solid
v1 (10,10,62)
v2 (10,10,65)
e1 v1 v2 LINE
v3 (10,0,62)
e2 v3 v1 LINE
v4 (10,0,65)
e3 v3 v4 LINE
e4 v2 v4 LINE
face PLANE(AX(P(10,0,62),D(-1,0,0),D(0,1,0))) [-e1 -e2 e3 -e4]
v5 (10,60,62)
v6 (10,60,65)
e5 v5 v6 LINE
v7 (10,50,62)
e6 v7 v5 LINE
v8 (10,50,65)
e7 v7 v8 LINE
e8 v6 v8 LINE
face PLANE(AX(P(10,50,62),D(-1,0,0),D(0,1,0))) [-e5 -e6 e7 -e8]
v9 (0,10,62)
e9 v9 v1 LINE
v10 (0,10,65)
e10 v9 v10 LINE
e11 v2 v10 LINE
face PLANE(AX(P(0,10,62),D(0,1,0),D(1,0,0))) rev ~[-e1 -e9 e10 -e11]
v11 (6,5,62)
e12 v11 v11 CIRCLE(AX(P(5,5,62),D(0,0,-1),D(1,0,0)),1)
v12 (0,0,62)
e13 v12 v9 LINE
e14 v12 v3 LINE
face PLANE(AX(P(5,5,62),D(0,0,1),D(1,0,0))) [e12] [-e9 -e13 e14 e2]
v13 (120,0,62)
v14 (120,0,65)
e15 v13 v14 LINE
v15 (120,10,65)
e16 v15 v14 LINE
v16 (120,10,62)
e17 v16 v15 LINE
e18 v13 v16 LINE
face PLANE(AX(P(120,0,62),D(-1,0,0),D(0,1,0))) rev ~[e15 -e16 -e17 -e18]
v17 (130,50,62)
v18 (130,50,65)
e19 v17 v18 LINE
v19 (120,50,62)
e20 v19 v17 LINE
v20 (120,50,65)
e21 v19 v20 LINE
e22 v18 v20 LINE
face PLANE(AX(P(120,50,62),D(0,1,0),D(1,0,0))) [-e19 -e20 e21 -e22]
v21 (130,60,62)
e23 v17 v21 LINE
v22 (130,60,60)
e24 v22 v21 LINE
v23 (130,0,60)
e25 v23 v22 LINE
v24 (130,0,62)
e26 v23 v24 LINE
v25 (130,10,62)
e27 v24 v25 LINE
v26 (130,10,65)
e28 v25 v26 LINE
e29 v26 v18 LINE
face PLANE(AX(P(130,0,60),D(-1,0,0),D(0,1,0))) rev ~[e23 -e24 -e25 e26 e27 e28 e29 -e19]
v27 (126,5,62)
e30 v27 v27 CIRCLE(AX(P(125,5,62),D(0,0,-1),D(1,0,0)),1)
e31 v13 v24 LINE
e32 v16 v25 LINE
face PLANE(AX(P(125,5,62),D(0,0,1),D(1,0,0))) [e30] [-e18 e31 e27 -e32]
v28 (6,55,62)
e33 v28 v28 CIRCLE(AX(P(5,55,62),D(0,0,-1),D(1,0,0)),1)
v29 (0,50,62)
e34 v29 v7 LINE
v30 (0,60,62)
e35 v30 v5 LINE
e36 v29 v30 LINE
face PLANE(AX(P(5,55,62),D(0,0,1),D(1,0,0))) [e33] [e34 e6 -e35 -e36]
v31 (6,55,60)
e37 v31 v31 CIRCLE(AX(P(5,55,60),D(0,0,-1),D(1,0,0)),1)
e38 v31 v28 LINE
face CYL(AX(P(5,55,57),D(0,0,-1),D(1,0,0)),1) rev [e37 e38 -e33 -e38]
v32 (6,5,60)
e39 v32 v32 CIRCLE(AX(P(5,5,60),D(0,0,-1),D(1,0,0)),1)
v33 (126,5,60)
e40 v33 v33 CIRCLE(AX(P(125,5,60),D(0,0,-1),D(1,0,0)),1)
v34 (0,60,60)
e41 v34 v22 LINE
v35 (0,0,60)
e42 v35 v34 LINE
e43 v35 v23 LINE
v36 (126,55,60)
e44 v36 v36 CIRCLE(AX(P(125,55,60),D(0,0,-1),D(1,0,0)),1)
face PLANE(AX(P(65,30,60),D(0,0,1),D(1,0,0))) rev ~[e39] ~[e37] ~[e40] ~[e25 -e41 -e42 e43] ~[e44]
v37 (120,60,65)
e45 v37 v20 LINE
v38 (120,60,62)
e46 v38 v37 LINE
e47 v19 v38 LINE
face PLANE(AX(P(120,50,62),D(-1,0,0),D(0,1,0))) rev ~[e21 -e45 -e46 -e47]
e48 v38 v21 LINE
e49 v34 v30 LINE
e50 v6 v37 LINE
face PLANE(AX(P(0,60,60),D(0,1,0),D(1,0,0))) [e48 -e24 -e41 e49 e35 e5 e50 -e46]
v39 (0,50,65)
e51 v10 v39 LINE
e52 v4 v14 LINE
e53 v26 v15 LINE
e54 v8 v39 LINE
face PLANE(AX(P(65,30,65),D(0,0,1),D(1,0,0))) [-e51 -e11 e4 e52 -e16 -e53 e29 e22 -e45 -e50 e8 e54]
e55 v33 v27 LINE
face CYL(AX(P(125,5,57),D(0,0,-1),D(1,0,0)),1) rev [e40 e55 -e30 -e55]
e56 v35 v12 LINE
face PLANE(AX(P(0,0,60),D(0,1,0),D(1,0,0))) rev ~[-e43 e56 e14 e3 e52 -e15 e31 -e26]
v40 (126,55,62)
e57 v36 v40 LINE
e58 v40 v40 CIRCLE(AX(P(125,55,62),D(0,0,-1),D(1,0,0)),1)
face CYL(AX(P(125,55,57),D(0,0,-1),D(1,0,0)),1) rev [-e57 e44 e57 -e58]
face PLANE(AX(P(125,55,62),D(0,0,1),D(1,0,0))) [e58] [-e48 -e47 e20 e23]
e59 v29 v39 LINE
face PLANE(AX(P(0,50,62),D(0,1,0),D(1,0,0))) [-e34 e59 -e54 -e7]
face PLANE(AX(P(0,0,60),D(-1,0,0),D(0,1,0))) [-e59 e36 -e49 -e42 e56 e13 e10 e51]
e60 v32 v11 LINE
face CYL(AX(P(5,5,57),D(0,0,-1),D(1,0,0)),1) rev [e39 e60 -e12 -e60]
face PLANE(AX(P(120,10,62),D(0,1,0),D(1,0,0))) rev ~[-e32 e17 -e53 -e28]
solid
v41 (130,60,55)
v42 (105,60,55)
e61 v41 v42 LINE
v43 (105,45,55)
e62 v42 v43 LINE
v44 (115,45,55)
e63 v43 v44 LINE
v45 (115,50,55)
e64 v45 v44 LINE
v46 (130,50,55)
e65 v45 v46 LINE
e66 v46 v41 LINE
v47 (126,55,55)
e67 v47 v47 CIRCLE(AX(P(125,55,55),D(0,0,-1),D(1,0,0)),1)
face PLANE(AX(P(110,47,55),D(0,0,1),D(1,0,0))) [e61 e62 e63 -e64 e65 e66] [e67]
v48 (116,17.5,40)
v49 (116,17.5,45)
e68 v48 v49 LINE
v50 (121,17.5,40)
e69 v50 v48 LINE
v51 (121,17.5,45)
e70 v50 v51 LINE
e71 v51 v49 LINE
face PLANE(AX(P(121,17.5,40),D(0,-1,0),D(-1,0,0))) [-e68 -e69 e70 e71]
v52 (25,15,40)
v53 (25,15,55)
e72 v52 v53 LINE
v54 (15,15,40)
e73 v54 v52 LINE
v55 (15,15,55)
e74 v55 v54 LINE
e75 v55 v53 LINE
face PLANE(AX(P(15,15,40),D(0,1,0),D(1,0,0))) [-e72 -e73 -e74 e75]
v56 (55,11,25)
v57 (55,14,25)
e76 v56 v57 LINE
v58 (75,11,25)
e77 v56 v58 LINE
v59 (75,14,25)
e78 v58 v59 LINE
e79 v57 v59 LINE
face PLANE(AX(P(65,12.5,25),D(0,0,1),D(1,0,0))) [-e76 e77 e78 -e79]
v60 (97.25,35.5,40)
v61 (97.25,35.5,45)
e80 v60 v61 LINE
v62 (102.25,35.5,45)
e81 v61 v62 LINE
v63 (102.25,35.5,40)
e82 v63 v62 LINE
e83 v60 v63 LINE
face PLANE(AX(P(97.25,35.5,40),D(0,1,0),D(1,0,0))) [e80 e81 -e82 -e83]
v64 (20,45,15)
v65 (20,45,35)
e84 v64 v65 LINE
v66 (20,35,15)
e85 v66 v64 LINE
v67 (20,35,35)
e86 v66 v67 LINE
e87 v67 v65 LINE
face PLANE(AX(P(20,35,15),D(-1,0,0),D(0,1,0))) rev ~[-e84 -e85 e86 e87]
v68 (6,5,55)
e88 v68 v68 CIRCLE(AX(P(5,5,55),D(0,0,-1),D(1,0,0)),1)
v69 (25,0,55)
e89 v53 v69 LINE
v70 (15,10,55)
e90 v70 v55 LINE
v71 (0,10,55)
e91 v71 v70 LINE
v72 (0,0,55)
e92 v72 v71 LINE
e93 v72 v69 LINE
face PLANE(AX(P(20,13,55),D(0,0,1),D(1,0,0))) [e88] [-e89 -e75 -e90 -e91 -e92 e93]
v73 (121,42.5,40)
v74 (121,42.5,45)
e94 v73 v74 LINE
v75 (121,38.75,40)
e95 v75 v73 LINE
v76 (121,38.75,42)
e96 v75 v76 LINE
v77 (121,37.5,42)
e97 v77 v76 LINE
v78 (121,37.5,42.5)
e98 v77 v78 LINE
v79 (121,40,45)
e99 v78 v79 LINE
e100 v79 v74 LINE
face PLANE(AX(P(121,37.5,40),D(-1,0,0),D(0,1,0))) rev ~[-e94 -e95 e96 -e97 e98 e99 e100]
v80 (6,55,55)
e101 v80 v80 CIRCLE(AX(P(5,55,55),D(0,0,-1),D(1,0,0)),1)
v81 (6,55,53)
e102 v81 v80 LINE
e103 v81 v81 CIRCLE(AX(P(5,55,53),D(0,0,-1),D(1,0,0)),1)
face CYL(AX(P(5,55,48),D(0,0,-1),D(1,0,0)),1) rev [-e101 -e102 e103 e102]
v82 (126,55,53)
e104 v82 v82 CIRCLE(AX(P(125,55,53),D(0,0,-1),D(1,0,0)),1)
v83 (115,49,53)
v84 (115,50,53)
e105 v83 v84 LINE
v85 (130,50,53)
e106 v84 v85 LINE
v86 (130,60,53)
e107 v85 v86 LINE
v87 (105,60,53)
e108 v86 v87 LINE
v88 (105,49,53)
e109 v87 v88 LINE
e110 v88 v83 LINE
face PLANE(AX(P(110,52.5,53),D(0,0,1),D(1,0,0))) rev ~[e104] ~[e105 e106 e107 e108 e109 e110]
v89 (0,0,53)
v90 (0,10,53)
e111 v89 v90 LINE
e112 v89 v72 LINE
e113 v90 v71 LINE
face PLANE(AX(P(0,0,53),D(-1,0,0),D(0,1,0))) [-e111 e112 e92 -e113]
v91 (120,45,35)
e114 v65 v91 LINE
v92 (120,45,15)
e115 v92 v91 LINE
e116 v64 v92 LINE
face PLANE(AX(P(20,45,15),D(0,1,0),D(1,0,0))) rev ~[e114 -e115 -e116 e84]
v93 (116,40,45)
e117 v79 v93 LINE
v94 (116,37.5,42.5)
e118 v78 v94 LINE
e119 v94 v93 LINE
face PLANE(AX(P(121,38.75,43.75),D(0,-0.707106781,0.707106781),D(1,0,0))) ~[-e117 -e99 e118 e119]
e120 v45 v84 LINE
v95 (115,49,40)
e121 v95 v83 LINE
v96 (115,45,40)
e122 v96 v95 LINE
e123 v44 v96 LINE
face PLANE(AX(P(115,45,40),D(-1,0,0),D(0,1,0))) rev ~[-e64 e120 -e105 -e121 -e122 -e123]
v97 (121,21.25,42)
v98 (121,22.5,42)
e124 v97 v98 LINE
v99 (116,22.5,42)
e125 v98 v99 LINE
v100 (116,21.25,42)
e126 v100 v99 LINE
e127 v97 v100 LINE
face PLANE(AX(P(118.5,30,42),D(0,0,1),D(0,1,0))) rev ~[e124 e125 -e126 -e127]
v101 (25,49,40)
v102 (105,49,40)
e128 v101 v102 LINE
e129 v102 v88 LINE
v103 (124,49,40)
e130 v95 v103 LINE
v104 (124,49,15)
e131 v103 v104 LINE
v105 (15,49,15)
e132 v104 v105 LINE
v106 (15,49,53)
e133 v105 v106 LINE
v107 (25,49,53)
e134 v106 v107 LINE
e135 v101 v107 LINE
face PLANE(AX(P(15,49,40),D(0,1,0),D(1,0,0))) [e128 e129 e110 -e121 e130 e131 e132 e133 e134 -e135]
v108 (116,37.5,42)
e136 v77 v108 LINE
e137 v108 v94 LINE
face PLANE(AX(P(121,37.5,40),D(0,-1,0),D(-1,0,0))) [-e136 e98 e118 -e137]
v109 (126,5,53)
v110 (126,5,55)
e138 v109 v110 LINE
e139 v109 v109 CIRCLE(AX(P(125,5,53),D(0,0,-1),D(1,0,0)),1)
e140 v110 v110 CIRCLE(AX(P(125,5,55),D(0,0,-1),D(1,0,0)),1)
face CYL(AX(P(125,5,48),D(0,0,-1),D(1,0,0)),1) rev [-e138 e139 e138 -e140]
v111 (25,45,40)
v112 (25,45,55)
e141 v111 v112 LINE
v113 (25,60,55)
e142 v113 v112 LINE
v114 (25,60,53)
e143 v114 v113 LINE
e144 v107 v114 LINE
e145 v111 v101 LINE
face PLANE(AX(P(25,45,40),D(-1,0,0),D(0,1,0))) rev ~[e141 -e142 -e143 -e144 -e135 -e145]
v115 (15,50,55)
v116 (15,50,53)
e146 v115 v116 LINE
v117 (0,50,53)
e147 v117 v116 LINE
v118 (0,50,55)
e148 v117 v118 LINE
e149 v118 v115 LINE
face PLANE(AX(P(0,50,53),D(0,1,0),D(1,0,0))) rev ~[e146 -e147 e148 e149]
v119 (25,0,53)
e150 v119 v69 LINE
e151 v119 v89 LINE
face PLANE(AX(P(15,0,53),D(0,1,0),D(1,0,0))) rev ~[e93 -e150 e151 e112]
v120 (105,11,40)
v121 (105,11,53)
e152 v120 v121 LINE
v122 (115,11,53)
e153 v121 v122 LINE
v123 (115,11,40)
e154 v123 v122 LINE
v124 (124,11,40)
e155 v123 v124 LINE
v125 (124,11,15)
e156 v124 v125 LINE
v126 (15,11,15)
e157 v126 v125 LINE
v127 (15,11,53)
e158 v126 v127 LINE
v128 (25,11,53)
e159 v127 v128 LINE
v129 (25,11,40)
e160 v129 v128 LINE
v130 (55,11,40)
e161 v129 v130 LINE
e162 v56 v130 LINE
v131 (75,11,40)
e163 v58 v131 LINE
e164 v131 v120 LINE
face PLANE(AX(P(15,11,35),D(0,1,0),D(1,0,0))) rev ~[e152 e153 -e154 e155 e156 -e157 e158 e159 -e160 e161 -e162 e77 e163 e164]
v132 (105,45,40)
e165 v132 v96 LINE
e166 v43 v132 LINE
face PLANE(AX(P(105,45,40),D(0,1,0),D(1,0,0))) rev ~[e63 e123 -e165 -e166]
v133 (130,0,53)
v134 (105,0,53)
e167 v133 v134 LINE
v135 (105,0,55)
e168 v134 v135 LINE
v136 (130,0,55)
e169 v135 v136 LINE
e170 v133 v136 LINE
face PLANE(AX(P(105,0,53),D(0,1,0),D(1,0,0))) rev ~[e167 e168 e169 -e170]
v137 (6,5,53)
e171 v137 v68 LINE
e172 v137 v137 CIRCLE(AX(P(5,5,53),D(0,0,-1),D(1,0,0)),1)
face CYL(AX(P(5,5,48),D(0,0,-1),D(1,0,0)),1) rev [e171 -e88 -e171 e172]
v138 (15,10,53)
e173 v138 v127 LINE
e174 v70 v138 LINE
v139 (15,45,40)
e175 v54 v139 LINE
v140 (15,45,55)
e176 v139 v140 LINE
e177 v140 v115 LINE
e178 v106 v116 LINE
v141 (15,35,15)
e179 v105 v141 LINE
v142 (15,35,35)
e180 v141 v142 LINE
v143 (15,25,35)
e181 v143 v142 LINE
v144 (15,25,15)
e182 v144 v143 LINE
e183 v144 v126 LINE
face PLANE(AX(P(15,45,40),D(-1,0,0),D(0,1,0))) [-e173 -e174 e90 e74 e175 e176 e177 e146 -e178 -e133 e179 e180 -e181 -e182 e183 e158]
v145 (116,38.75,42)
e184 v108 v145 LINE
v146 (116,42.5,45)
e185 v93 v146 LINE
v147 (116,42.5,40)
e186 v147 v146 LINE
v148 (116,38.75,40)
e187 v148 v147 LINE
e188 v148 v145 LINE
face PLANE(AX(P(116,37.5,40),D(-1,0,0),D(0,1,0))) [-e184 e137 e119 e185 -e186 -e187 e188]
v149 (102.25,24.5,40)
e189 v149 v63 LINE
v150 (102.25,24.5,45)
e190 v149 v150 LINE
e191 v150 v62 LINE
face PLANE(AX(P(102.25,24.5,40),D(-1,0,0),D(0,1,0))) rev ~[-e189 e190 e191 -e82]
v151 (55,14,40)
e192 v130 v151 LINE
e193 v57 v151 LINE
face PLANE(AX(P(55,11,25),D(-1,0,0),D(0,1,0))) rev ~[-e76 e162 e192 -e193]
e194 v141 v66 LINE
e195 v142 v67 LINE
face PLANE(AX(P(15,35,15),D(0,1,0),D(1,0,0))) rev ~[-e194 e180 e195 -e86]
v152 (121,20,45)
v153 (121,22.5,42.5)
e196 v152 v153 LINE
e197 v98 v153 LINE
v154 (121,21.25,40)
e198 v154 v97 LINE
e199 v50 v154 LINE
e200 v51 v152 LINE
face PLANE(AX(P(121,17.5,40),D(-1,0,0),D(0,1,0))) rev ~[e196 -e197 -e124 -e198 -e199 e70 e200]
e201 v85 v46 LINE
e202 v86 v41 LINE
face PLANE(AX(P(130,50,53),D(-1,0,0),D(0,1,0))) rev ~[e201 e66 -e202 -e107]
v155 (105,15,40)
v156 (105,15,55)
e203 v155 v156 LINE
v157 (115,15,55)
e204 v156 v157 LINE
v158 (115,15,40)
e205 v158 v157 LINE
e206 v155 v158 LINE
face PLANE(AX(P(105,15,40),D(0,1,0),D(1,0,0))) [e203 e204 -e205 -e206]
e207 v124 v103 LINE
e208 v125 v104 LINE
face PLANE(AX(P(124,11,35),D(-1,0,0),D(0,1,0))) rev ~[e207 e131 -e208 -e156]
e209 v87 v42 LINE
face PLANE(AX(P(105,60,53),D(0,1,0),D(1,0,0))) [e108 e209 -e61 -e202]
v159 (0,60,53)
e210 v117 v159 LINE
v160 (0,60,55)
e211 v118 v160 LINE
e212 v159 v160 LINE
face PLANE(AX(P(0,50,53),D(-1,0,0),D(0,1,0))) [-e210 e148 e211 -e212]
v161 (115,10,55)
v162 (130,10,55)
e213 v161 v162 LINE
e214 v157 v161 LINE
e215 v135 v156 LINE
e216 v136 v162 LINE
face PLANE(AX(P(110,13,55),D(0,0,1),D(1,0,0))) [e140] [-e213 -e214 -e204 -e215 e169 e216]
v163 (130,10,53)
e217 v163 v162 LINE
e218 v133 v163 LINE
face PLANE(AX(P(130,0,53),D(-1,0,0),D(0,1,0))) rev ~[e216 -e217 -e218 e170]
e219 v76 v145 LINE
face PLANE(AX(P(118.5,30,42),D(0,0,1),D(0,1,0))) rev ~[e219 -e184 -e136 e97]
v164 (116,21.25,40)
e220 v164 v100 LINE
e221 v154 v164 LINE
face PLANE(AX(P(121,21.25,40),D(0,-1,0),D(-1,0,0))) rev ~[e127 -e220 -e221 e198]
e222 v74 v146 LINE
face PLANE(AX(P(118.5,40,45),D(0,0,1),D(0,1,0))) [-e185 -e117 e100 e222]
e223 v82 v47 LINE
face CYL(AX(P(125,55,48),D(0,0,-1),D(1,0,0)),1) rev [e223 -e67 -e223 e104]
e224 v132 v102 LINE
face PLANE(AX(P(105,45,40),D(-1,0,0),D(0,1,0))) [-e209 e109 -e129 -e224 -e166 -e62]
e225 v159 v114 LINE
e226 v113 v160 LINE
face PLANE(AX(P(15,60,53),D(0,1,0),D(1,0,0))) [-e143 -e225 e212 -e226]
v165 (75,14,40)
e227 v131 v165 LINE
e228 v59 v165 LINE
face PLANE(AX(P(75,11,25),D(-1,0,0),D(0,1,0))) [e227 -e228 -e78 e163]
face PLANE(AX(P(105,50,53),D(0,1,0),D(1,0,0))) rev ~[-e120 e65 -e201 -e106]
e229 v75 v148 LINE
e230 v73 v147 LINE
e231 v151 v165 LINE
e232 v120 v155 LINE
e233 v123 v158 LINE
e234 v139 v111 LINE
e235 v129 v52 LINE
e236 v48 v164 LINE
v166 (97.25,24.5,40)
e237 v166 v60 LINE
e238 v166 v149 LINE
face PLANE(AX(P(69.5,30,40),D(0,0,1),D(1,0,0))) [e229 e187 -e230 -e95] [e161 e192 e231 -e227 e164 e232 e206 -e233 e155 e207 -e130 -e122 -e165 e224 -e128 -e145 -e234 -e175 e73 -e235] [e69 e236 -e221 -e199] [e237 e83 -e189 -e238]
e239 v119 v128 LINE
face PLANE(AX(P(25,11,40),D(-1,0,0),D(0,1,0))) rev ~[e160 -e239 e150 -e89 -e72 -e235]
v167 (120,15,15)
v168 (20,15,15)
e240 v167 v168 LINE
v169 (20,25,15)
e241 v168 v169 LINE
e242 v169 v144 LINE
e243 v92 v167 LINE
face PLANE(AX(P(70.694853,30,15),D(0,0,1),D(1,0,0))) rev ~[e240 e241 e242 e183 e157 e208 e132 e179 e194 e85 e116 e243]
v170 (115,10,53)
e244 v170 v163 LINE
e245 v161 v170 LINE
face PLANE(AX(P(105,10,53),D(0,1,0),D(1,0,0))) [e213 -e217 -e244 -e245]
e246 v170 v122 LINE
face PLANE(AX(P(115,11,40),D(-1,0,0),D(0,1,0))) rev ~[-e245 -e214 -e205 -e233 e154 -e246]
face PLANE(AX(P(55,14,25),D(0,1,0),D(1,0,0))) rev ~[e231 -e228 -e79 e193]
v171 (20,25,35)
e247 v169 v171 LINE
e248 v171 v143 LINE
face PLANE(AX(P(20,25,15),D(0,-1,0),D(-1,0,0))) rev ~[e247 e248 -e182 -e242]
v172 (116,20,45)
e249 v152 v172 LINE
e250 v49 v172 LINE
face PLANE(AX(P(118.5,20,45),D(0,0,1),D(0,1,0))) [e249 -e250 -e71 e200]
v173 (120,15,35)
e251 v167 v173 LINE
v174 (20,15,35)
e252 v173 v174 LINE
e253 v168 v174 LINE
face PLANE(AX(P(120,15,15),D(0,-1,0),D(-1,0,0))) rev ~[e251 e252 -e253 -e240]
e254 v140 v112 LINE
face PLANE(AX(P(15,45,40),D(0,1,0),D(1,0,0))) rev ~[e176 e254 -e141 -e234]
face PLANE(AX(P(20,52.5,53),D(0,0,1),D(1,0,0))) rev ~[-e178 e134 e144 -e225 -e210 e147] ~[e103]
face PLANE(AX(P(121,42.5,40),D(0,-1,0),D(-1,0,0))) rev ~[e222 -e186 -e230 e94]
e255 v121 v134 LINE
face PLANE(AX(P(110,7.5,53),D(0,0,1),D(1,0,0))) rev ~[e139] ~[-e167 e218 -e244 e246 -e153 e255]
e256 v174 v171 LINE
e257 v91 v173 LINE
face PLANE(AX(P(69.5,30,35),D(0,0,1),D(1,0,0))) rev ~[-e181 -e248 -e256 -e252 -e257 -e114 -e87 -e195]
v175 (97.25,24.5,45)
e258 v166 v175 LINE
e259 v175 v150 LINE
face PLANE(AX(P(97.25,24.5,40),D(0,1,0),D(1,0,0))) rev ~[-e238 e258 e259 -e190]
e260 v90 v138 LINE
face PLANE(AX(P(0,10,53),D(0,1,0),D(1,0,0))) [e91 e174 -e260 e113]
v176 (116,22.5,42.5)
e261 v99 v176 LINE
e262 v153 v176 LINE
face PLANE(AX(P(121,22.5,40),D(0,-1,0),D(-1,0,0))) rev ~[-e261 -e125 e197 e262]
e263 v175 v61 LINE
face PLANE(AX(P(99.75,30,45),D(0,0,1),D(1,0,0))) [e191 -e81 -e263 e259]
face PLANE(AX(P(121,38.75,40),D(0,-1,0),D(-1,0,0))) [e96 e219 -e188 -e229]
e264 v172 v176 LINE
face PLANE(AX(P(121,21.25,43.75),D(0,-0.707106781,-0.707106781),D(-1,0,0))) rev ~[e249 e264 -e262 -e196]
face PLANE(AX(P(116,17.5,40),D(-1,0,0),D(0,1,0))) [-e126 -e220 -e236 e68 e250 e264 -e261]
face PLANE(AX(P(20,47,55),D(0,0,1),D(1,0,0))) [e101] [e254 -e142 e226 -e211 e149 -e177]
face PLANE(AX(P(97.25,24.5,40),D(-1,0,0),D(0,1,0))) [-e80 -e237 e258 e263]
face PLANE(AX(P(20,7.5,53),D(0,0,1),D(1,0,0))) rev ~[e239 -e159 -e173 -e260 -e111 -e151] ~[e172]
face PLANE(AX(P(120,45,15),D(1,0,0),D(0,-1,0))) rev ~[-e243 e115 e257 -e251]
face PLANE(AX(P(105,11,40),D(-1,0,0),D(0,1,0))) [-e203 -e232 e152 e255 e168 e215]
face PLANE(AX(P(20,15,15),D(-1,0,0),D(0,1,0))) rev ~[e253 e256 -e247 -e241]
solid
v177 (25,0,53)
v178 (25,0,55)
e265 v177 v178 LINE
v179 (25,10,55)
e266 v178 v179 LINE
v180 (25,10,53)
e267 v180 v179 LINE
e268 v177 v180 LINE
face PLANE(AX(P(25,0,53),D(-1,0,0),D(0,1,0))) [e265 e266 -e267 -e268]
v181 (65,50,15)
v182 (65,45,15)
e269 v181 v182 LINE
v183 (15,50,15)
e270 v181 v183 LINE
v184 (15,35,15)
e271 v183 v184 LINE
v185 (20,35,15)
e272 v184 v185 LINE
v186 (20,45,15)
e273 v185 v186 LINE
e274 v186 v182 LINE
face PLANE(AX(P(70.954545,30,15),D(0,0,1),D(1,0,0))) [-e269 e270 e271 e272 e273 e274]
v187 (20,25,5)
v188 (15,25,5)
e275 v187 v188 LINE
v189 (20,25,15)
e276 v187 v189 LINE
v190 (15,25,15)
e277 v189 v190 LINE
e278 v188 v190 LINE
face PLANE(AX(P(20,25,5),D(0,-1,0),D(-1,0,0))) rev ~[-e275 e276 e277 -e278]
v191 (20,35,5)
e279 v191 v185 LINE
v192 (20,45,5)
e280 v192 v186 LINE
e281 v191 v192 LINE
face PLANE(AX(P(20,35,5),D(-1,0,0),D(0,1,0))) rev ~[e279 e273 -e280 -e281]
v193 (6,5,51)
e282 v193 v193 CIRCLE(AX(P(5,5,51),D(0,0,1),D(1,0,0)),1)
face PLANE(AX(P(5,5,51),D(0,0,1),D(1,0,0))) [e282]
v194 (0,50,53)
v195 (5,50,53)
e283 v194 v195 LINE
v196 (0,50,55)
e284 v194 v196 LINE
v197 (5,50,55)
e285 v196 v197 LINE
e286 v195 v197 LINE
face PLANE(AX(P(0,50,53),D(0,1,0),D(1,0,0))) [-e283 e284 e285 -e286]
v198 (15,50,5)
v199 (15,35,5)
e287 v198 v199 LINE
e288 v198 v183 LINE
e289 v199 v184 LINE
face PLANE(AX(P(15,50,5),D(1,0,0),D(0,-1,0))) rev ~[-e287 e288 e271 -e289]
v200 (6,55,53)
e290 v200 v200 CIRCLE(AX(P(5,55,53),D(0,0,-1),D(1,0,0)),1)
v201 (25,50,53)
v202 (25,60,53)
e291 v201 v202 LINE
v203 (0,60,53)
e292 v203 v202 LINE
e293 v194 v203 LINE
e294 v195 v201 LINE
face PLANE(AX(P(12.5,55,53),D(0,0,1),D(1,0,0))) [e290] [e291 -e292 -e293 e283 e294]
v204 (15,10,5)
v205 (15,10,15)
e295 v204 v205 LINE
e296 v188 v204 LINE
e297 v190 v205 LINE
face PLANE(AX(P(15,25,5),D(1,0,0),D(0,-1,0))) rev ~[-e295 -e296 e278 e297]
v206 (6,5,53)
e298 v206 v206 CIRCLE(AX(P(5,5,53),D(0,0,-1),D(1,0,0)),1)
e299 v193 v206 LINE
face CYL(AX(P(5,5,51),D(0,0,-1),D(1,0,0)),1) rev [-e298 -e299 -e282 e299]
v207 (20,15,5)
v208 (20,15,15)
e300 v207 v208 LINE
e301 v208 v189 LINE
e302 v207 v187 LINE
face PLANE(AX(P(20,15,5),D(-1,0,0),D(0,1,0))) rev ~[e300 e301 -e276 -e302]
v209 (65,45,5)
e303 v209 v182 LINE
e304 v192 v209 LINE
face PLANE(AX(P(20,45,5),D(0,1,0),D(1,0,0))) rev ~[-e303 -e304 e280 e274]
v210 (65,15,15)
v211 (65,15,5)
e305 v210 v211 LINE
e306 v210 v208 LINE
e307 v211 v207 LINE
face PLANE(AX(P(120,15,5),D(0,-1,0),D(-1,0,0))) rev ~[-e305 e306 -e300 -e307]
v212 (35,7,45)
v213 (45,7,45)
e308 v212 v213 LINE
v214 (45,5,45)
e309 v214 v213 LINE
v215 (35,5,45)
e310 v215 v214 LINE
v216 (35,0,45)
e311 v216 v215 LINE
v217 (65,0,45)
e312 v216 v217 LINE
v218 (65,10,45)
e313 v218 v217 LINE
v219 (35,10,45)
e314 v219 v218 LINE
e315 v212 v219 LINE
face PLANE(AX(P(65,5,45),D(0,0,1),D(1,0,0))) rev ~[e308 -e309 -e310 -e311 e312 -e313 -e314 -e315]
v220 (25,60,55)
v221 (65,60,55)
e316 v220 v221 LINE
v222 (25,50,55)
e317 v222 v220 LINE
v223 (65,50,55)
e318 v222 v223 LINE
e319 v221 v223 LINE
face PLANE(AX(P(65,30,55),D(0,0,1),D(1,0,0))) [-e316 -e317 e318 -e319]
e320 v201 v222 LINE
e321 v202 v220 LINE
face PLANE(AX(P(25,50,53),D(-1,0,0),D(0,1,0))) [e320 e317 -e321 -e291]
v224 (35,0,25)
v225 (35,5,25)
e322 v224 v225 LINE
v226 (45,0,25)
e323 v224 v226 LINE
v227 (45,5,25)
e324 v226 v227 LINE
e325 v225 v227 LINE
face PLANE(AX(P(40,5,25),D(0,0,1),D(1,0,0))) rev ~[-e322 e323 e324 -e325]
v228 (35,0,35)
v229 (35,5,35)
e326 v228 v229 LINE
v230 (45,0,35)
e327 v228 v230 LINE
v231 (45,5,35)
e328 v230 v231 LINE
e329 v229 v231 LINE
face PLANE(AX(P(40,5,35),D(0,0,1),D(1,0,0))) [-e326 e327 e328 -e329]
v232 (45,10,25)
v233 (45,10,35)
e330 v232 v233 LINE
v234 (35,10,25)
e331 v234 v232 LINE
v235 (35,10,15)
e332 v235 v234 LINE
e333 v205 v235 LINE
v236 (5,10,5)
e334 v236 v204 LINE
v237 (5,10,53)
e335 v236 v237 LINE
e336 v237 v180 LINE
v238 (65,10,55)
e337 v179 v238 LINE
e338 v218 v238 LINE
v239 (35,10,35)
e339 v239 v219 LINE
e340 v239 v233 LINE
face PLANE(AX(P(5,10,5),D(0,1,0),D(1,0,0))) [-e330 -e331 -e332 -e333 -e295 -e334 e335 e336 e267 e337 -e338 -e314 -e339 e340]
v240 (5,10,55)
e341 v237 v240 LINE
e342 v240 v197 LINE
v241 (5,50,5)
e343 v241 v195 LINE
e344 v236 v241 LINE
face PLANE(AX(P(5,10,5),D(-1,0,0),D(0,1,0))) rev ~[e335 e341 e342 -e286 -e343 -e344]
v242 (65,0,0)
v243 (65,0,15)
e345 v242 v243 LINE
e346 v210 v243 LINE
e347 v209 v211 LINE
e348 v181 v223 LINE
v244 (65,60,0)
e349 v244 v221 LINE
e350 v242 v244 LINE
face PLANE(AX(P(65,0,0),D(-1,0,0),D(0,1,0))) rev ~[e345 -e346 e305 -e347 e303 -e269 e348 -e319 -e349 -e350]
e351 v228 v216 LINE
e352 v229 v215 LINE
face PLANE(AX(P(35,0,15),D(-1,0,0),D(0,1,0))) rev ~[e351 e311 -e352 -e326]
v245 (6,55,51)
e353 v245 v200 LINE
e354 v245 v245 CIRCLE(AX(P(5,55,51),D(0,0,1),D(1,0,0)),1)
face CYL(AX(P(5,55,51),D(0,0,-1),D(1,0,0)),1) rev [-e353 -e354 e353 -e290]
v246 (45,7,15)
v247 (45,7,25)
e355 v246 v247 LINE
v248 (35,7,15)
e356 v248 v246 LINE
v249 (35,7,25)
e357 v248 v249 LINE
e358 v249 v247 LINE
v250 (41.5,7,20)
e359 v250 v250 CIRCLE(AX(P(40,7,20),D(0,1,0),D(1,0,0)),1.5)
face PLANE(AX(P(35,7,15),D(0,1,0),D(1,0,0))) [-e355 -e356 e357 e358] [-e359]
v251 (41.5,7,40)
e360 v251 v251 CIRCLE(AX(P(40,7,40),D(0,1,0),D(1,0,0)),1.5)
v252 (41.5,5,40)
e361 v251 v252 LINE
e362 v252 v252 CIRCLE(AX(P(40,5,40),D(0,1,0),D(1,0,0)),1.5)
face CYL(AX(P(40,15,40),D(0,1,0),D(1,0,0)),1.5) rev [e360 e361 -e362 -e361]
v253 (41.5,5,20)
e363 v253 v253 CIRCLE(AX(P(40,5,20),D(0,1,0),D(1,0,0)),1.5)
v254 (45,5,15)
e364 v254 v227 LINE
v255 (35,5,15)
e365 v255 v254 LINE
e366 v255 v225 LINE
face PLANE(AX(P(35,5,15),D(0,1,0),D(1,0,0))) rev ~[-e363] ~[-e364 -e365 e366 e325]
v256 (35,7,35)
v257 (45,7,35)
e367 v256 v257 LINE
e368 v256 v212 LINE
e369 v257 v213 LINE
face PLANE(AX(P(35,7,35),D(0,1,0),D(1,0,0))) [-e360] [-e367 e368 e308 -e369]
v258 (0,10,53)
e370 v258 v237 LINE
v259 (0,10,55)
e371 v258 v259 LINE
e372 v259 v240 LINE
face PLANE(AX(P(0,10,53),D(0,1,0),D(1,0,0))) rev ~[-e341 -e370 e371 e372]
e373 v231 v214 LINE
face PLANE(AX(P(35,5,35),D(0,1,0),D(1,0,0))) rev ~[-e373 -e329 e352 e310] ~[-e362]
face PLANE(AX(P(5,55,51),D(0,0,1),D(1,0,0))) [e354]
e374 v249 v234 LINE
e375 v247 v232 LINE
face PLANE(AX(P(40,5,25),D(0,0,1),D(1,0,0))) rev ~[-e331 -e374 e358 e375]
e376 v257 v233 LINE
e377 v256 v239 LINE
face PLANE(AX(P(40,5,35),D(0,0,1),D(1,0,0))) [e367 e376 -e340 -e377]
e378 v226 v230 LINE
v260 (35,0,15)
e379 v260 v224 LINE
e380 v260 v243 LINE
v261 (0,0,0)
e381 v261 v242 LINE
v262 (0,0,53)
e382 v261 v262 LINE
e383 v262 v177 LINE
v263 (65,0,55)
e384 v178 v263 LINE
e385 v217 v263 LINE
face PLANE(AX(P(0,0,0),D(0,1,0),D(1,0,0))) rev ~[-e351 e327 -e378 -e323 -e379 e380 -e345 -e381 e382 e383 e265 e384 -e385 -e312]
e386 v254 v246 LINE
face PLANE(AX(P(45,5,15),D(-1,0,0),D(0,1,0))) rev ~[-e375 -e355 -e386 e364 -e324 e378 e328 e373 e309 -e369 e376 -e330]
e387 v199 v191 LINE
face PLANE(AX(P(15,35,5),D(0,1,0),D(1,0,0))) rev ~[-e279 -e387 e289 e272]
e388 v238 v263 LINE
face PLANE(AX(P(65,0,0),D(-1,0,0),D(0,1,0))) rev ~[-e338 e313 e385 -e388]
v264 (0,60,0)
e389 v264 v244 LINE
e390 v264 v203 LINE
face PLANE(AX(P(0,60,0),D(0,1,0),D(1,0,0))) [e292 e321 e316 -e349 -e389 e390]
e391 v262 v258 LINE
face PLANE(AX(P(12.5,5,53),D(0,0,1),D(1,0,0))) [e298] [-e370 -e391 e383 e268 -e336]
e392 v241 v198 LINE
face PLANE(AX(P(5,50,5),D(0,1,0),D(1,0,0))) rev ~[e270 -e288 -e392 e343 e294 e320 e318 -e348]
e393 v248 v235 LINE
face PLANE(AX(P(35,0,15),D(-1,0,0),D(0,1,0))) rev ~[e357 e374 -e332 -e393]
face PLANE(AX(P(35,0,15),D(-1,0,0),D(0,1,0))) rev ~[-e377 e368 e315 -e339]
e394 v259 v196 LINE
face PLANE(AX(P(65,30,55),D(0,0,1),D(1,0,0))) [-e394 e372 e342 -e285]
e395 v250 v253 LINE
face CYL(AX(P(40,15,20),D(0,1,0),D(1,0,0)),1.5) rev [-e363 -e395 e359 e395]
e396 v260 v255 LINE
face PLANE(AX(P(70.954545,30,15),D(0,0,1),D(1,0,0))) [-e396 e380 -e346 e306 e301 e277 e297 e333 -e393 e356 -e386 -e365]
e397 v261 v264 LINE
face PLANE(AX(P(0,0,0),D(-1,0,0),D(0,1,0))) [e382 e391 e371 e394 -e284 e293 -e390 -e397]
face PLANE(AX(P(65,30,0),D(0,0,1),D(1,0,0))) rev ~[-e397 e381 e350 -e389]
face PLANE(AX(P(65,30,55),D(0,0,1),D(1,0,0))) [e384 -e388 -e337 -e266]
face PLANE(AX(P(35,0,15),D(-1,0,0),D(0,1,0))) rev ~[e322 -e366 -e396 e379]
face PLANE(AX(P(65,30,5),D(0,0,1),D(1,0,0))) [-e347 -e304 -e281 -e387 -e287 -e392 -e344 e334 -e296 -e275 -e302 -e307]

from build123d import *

# Parameters (mm, degrees)
CYLINDER002_R           = 1
CYLINDER002_DEPTH       = 20
BOX007_W                = 10
BOX007_H                = 10
BOX007_DEPTH            = 10
ARRAY005_X_COUNT        = 2
ARRAY005_X_PITCH        = 120
ARRAY005_Y_COUNT        = 2
ARRAY005_Y_PITCH        = 50
BOX002_W                = 130
BOX002_H                = 60
BOX002_DEPTH            = 5
BOX015_W                = 20
BOX015_H                = 3
BOX015_DEPTH            = 15
CYLINDER003_R           = 1
CYLINDER003_DEPTH       = 10
ARRAY009_X_COUNT        = 2
ARRAY009_X_PITCH        = 120
ARRAY009_Y_COUNT        = 2
ARRAY009_Y_PITCH        = 50
BOX011_W                = 25
BOX011_H                = 10
BOX011_DEPTH            = 2
ARRAY008_X_COUNT        = 2
ARRAY008_X_PITCH        = 105
ARRAY008_Y_COUNT        = 2
ARRAY008_Y_PITCH        = 50
BOX010_W                = 10
BOX010_H                = 15
BOX010_DEPTH            = 2
ARRAY007_X_COUNT        = 2
ARRAY007_X_PITCH        = 90
ARRAY007_Y_COUNT        = 2
ARRAY007_Y_PITCH        = 45
BOX009_W                = 10
BOX009_H                = 4
BOX009_DEPTH            = 15
ARRAY006_X_COUNT        = 2
ARRAY006_X_PITCH        = 90
ARRAY006_Y_COUNT        = 2
ARRAY006_Y_PITCH        = 34
BOX008_W                = 109
BOX008_H                = 38
BOX008_DEPTH            = 5
PAD001_DEPTH            = 20
SKETCH002_W             = 5
SKETCH002_H             = 11
PAD002_DEPTH            = 5
BOX013_W                = 17.5
BOX013_H                = 5
BOX013_DEPTH            = 2
BOX012_W                = 5
BOX012_H                = 5
BOX012_DEPTH            = 5
ARRAY010_X_COUNT        = 2
ARRAY010_X_PITCH        = 20
CHAMFER_SIZE            = 2.5
CHAMFER_PLACEMENT_ANGLE = 90
BOX016_W                = 65
BOX016_H                = 60
BOX016_DEPTH            = 60
BOX014_W                = 7
BOX014_H                = 15
BOX014_DEPTH            = 10
CYLINDER001_R           = 1
CYLINDER001_DEPTH       = 3
ARRAY004_X_COUNT        = 2
ARRAY004_X_PITCH        = 120
ARRAY004_Y_COUNT        = 2
ARRAY004_Y_PITCH        = 50
CYLINDER_R              = 1.5
CYLINDER_DEPTH          = 30
CYLINDER_ROLL_ANGLE     = 90
ARRAY003_X_COUNT        = 2
ARRAY003_X_PITCH        = 50
ARRAY003_Y_COUNT        = 2
ARRAY003_Y_PITCH        = 20
BOX006_W                = 25
BOX006_H                = 10
BOX006_DEPTH            = 2
ARRAY002_X_COUNT        = 2
ARRAY002_X_PITCH        = 105
ARRAY002_Y_COUNT        = 2
ARRAY002_Y_PITCH        = 50
BOX005_W                = 10
BOX005_H                = 10
BOX005_DEPTH            = 10
ARRAY001_X_COUNT        = 2
ARRAY001_X_PITCH        = 50
BOX004_W                = 10
BOX004_H                = 2
BOX004_DEPTH            = 10
ARRAY_X_COUNT           = 2
ARRAY_X_PITCH           = 50
ARRAY_Y_COUNT           = 2
ARRAY_Y_PITCH           = 20
BOX003_W                = 60
BOX003_H                = 10
BOX003_DEPTH            = 30
BOX001_W                = 120
BOX001_H                = 40
BOX001_DEPTH            = 50
BOX_W                   = 130
BOX_H                   = 60
BOX_DEPTH               = 55
PAD_DEPTH               = 10


with BuildPart() as cilindro002:
    # Cylinder002 → Cylinder002 (new body)
    with BuildSketch(Plane(origin=(5, 5, -5), x_dir=(1, 0, 0), z_dir=(0, 0, 1))):
        Circle(CYLINDER002_R)
    extrude(amount=CYLINDER002_DEPTH)


with BuildPart() as huecostapa:
    # Box007 → Box007 (new body)
    with BuildSketch(Plane.XY):
        with Locations((5, 5)):
            Rectangle(BOX007_W, BOX007_H)
    extrude(amount=BOX007_DEPTH)

    # Fusion: union Cilindro002
    add(cilindro002.part)

    # Array005 X: HuecosTapa ×2


with BuildPart() as huecostapa_1:
    add(huecostapa.part)
    with Locations(*[(i * ARRAY005_X_PITCH, 0, 0) for i in range(1, ARRAY005_X_COUNT)]):
        add(huecostapa.part)

    # Array005 Y: HuecosTapa ×2


with BuildPart() as huecostapa_2:
    add(huecostapa_1.part)
    with Locations(*[(0, i * ARRAY005_Y_PITCH, 0) for i in range(1, ARRAY005_Y_COUNT)]):
        add(huecostapa_1.part)


with BuildPart() as huecostapa_3:
    # Array005 placement: moved
    add(huecostapa_2.part.moved(Location((0, 0, 62))))


with BuildPart() as tapa:
    # Box002 → Box002 (new body)
    with BuildSketch(Plane.XY.offset(60)):
        with Locations((65, 30)):
            Rectangle(BOX002_W, BOX002_H)
    extrude(amount=BOX002_DEPTH)

    # Cut007: cut HuecosTapa
    add(huecostapa_3.part, mode=Mode.SUBTRACT)


with BuildPart() as hueco_tornillo_conector:
    # Box015 → Box015 (new body)
    with BuildSketch(Plane(origin=(55, 11, 25), x_dir=(1, 0, 0), z_dir=(0, 0, 1))):
        with Locations((10, 1.5)):
            Rectangle(BOX015_W, BOX015_H)
    extrude(amount=BOX015_DEPTH)


with BuildPart() as array009:
    # Cylinder003 → Cylinder003 (new body)
    with BuildSketch(Plane.XY):
        Circle(CYLINDER003_R)
    extrude(amount=CYLINDER003_DEPTH)

    # Array009 X: Array009 ×2


with BuildPart() as array009_1:
    add(array009.part)
    with Locations(*[(i * ARRAY009_X_PITCH, 0, 0) for i in range(1, ARRAY009_X_COUNT)]):
        add(array009.part)

    # Array009 Y: Array009 ×2


with BuildPart() as array009_2:
    add(array009_1.part)
    with Locations(*[(0, i * ARRAY009_Y_PITCH, 0) for i in range(1, ARRAY009_Y_COUNT)]):
        add(array009_1.part)


with BuildPart() as array009_3:
    # Array009 placement: moved
    add(array009_2.part.moved(Location((-10, -6, 13))))


with BuildPart() as array008:
    # Box011 → Box011 (new body)
    with BuildSketch(Plane(origin=(-15, -11, 18), x_dir=(1, 0, 0), z_dir=(0, 0, 1))):
        with Locations((12.5, 5)):
            Rectangle(BOX011_W, BOX011_H)
    extrude(amount=BOX011_DEPTH)

    # Array008 X: Array008 ×2


with BuildPart() as array008_1:
    add(array008.part)
    with Locations(*[(i * ARRAY008_X_PITCH, 0, 0) for i in range(1, ARRAY008_X_COUNT)]):
        add(array008.part)

    # Array008 Y: Array008 ×2


with BuildPart() as array008_2:
    add(array008_1.part)
    with Locations(*[(0, i * ARRAY008_Y_PITCH, 0) for i in range(1, ARRAY008_Y_COUNT)]):
        add(array008_1.part)


with BuildPart() as array007:
    # Box010 → Box010 (new body)
    with BuildSketch(Plane(origin=(0, -11, 18), x_dir=(1, 0, 0), z_dir=(0, 0, 1))):
        with Locations((5, 7.5)):
            Rectangle(BOX010_W, BOX010_H)
    extrude(amount=BOX010_DEPTH)

    # Array007 X: Array007 ×2


with BuildPart() as array007_1:
    add(array007.part)
    with Locations(*[(i * ARRAY007_X_PITCH, 0, 0) for i in range(1, ARRAY007_X_COUNT)]):
        add(array007.part)

    # Array007 Y: Array007 ×2


with BuildPart() as array007_2:
    add(array007_1.part)
    with Locations(*[(0, i * ARRAY007_Y_PITCH, 0) for i in range(1, ARRAY007_Y_COUNT)]):
        add(array007_1.part)


with BuildPart() as array006:
    # Box009 → Box009 (new body)
    with BuildSketch(Plane.XY.offset(5)):
        with Locations((5, 2)):
            Rectangle(BOX009_W, BOX009_H)
    extrude(amount=BOX009_DEPTH)

    # Array006 X: Array006 ×2


with BuildPart() as array006_1:
    add(array006.part)
    with Locations(*[(i * ARRAY006_X_PITCH, 0, 0) for i in range(1, ARRAY006_X_COUNT)]):
        add(array006.part)

    # Array006 Y: Array006 ×2


with BuildPart() as array006_2:
    add(array006_1.part)
    with Locations(*[(0, i * ARRAY006_Y_PITCH, 0) for i in range(1, ARRAY006_Y_COUNT)]):
        add(array006_1.part)


with BuildPart() as cut008:
    # Box008 → Box008 (new body)
    with BuildSketch(Plane.XY):
        with Locations((54.5, 19)):
            Rectangle(BOX008_W, BOX008_H)
    extrude(amount=BOX008_DEPTH)

    # Fusion001: union Array006
    add(array006_2.part)

    # Fusion002: union Array007
    add(array007_2.part)

    # Fusion003: union Array008
    add(array008_2.part)

    # Cut008: cut Array009
    add(array009_3.part, mode=Mode.SUBTRACT)


with BuildPart() as cut008_1:
    # Cut008 placement: moved
    add(cut008.part.moved(Location((0, 0, 20))))


with BuildPart() as cut011:
    # Sketch001 → Pad001 (new body)
    with BuildSketch(Plane.XY):
        Polygon((0, 24), (5, 24), (5, 34), (105, 34), (105, 4), (5, 4), (5, 14), (0, 14), (0, 0), (109, 0), (109, 38), (0, 38), align=None)
    extrude(amount=PAD001_DEPTH)

    # Fusion004: union Cut008
    add(cut008_1.part)


with BuildPart() as cut011_1:
    # Fusion004 placement: moved
    add(cut011.part.moved(Location((15, 11, 15))))

    # Sketch002 (on Face19 of Fusion004) → Pad002 (new body)
    with BuildSketch(Plane(origin=(15, 11, 40), x_dir=(1, 0, 0), z_dir=(0, 0, 1))):
        with Locations((84.75, 19)):
            Rectangle(SKETCH002_W, SKETCH002_H)
    extrude(amount=PAD002_DEPTH)

    # Cut011: cut Hueco_Tornillo_Conector
    add(hueco_tornillo_conector.part, mode=Mode.SUBTRACT)


with BuildPart() as clavijas_hueco:
    # Box013 → Box013 (new body)
    with BuildSketch(Plane(origin=(3.75, 0, 0), x_dir=(1, 0, 0), z_dir=(0, 0, 1))):
        with Locations((8.75, 2.5)):
            Rectangle(BOX013_W, BOX013_H)
    extrude(amount=BOX013_DEPTH)


with BuildPart() as soporte:
    # Box012 → Box012 (new body)
    with BuildSketch(Plane.XY):
        with Locations((2.5, 2.5)):
            Rectangle(BOX012_W, BOX012_H)
    extrude(amount=BOX012_DEPTH)

    # Array010 X: Soporte ×2


with BuildPart() as soporte_1:
    add(soporte.part)
    with Locations(*[(i * ARRAY010_X_PITCH, 0, 0) for i in range(1, ARRAY010_X_COUNT)]):
        add(soporte.part)

    # Cut009: cut Clavijas_hueco
    add(clavijas_hueco.part, mode=Mode.SUBTRACT)

    # Chamfer
    chamfer_edges = [soporte_1.edges().sort_by_distance(p)[0] for p in [
        (5, 2.5, 5),
        (20, 2.5, 5),
    ]]
    chamfer(chamfer_edges, length=CHAMFER_SIZE)


with BuildPart() as soporte_2:
    # Chamfer placement: moved
    add(soporte_1.part.moved(Location((121, 17.5, 40))).rotate(Axis((121, 17.5, 40), (0, 0, 1)), CHAMFER_PLACEMENT_ANGLE))

    # Fusion005: union Cut011
    add(cut011_1.part)


with BuildPart() as corte:
    # Box016 → Box016 (new body)
    with BuildSketch(Plane(origin=(65, 0, 0), x_dir=(1, 0, 0), z_dir=(0, 0, 1))):
        with Locations((32.5, 30)):
            Rectangle(BOX016_W, BOX016_H)
    extrude(amount=BOX016_DEPTH)


with BuildPart() as huecousb:
    # Box014 → Box014 (new body)
    with BuildSketch(Plane(origin=(124, 22.5, 41), x_dir=(1, 0, 0), z_dir=(0, 0, 1))):
        with Locations((3.5, 7.5)):
            Rectangle(BOX014_W, BOX014_H)
    extrude(amount=BOX014_DEPTH)


with BuildPart() as array004:
    # Cylinder001 → Cylinder001 (new body)
    with BuildSketch(Plane.XY):
        Circle(CYLINDER001_R)
    extrude(amount=CYLINDER001_DEPTH)

    # Array004 X: Array004 ×2


with BuildPart() as array004_1:
    add(array004.part)
    with Locations(*[(i * ARRAY004_X_PITCH, 0, 0) for i in range(1, ARRAY004_X_COUNT)]):
        add(array004.part)

    # Array004 Y: Array004 ×2


with BuildPart() as array004_2:
    add(array004_1.part)
    with Locations(*[(0, i * ARRAY004_Y_PITCH, 0) for i in range(1, ARRAY004_Y_COUNT)]):
        add(array004_1.part)


with BuildPart() as array004_3:
    # Array004 placement: moved
    add(array004_2.part.moved(Location((5, 5, 51))))


with BuildPart() as array003:
    # Cylinder → Cylinder (new body)
    with BuildSketch(Plane.XY):
        Circle(CYLINDER_R)
    extrude(amount=CYLINDER_DEPTH)


with BuildPart() as array003_1:
    # Cylinder roll: moved
    add(array003.part.rotate(Axis((0, 0, 0), (1, 0, 0)), CYLINDER_ROLL_ANGLE))


with BuildPart() as array003_2:
    # Cylinder placement: moved
    add(array003_1.part)

    # Array003 X: Array003 ×2


with BuildPart() as array003_3:
    add(array003_2.part)
    with Locations(*[(i * ARRAY003_X_PITCH, 0, 0) for i in range(1, ARRAY003_X_COUNT)]):
        add(array003_2.part)

    # Array003 Y: Array003 ×2


with BuildPart() as array003_4:
    add(array003_3.part)
    with Locations(*[(0, 0, i * ARRAY003_Y_PITCH) for i in range(1, ARRAY003_Y_COUNT)]):
        add(array003_3.part)


with BuildPart() as array003_5:
    # Array003 placement: moved
    add(array003_4.part.moved(Location((40, 15, 20))))


with BuildPart() as array002:
    # Box006 → Box006 (new body)
    with BuildSketch(Plane.XY):
        with Locations((12.5, 5)):
            Rectangle(BOX006_W, BOX006_H)
    extrude(amount=BOX006_DEPTH)

    # Array002 X: Array002 ×2


with BuildPart() as array002_1:
    add(array002.part)
    with Locations(*[(i * ARRAY002_X_PITCH, 0, 0) for i in range(1, ARRAY002_X_COUNT)]):
        add(array002.part)

    # Array002 Y: Array002 ×2


with BuildPart() as array002_2:
    add(array002_1.part)
    with Locations(*[(0, i * ARRAY002_Y_PITCH, 0) for i in range(1, ARRAY002_Y_COUNT)]):
        add(array002_1.part)


with BuildPart() as array002_3:
    # Array002 placement: moved
    add(array002_2.part.moved(Location((0, 0, 53))))


with BuildPart() as array001:
    # Box005 → Box005 (new body)
    with BuildSketch(Plane(origin=(35, 0, 25), x_dir=(1, 0, 0), z_dir=(0, 0, 1))):
        with Locations((5, 5)):
            Rectangle(BOX005_W, BOX005_H)
    extrude(amount=BOX005_DEPTH)

    # Array001 X: Array001 ×2


with BuildPart() as array001_1:
    add(array001.part)
    with Locations(*[(i * ARRAY001_X_PITCH, 0, 0) for i in range(1, ARRAY001_X_COUNT)]):
        add(array001.part)


with BuildPart() as array:
    # Box004 → Box004 (new body)
    with BuildSketch(Plane.XY):
        with Locations((5, 1)):
            Rectangle(BOX004_W, BOX004_H)
    extrude(amount=BOX004_DEPTH)

    # Array X: Array ×2


with BuildPart() as array_1:
    add(array.part)
    with Locations(*[(i * ARRAY_X_PITCH, 0, 0) for i in range(1, ARRAY_X_COUNT)]):
        add(array.part)

    # Array Y: Array ×2


with BuildPart() as array_2:
    add(array_1.part)
    with Locations(*[(0, 0, i * ARRAY_Y_PITCH) for i in range(1, ARRAY_Y_COUNT)]):
        add(array_1.part)


with BuildPart() as array_3:
    # Array placement: moved
    add(array_2.part.moved(Location((0, 5, 0))))


with BuildPart() as cut002:
    # Box003 → Box003 (new body)
    with BuildSketch(Plane.XY):
        with Locations((30, 5)):
            Rectangle(BOX003_W, BOX003_H)
    extrude(amount=BOX003_DEPTH)

    # Cut001: cut Array
    add(array_3.part, mode=Mode.SUBTRACT)


with BuildPart() as cut002_1:
    # Cut001 placement: moved
    add(cut002.part.moved(Location((35, 0, 15))))

    # Cut002: cut Array001
    add(array001_1.part, mode=Mode.SUBTRACT)


with BuildPart() as interior:
    # Box001 → Box001 (new body)
    with BuildSketch(Plane(origin=(5, 10, 5), x_dir=(1, 0, 0), z_dir=(0, 0, 1))):
        with Locations((60, 20)):
            Rectangle(BOX001_W, BOX001_H)
    extrude(amount=BOX001_DEPTH)


with BuildPart() as seccionyz:
    # Box → Box (new body)
    with BuildSketch(Plane.XY):
        with Locations((65, 30)):
            Rectangle(BOX_W, BOX_H)
    extrude(amount=BOX_DEPTH)

    # Cut: cut Interior
    add(interior.part, mode=Mode.SUBTRACT)

    # Cut003: cut Cut002
    add(cut002_1.part, mode=Mode.SUBTRACT)

    # Cut004: cut Array002
    add(array002_3.part, mode=Mode.SUBTRACT)

    # Sketch (on Face54 of Cut004) → Pad (new body)
    with BuildSketch(Plane.XY.offset(5)):
        Polygon((15, 35), (20, 35), (20, 45), (120, 45), (120, 15), (20, 15), (20, 25), (15, 25), (15, 10), (125, 10), (125, 50), (15, 50), align=None)
    extrude(amount=PAD_DEPTH)

    # Cut005: cut Array003
    add(array003_5.part, mode=Mode.SUBTRACT)

    # Cut006: cut Array004
    add(array004_3.part, mode=Mode.SUBTRACT)

    # Cut010: cut HuecoUSB
    add(huecousb.part, mode=Mode.SUBTRACT)

    # Cut012: cut Corte
    add(corte.part, mode=Mode.SUBTRACT)


solid = Compound([tapa.part, soporte_2.part, seccionyz.part])
